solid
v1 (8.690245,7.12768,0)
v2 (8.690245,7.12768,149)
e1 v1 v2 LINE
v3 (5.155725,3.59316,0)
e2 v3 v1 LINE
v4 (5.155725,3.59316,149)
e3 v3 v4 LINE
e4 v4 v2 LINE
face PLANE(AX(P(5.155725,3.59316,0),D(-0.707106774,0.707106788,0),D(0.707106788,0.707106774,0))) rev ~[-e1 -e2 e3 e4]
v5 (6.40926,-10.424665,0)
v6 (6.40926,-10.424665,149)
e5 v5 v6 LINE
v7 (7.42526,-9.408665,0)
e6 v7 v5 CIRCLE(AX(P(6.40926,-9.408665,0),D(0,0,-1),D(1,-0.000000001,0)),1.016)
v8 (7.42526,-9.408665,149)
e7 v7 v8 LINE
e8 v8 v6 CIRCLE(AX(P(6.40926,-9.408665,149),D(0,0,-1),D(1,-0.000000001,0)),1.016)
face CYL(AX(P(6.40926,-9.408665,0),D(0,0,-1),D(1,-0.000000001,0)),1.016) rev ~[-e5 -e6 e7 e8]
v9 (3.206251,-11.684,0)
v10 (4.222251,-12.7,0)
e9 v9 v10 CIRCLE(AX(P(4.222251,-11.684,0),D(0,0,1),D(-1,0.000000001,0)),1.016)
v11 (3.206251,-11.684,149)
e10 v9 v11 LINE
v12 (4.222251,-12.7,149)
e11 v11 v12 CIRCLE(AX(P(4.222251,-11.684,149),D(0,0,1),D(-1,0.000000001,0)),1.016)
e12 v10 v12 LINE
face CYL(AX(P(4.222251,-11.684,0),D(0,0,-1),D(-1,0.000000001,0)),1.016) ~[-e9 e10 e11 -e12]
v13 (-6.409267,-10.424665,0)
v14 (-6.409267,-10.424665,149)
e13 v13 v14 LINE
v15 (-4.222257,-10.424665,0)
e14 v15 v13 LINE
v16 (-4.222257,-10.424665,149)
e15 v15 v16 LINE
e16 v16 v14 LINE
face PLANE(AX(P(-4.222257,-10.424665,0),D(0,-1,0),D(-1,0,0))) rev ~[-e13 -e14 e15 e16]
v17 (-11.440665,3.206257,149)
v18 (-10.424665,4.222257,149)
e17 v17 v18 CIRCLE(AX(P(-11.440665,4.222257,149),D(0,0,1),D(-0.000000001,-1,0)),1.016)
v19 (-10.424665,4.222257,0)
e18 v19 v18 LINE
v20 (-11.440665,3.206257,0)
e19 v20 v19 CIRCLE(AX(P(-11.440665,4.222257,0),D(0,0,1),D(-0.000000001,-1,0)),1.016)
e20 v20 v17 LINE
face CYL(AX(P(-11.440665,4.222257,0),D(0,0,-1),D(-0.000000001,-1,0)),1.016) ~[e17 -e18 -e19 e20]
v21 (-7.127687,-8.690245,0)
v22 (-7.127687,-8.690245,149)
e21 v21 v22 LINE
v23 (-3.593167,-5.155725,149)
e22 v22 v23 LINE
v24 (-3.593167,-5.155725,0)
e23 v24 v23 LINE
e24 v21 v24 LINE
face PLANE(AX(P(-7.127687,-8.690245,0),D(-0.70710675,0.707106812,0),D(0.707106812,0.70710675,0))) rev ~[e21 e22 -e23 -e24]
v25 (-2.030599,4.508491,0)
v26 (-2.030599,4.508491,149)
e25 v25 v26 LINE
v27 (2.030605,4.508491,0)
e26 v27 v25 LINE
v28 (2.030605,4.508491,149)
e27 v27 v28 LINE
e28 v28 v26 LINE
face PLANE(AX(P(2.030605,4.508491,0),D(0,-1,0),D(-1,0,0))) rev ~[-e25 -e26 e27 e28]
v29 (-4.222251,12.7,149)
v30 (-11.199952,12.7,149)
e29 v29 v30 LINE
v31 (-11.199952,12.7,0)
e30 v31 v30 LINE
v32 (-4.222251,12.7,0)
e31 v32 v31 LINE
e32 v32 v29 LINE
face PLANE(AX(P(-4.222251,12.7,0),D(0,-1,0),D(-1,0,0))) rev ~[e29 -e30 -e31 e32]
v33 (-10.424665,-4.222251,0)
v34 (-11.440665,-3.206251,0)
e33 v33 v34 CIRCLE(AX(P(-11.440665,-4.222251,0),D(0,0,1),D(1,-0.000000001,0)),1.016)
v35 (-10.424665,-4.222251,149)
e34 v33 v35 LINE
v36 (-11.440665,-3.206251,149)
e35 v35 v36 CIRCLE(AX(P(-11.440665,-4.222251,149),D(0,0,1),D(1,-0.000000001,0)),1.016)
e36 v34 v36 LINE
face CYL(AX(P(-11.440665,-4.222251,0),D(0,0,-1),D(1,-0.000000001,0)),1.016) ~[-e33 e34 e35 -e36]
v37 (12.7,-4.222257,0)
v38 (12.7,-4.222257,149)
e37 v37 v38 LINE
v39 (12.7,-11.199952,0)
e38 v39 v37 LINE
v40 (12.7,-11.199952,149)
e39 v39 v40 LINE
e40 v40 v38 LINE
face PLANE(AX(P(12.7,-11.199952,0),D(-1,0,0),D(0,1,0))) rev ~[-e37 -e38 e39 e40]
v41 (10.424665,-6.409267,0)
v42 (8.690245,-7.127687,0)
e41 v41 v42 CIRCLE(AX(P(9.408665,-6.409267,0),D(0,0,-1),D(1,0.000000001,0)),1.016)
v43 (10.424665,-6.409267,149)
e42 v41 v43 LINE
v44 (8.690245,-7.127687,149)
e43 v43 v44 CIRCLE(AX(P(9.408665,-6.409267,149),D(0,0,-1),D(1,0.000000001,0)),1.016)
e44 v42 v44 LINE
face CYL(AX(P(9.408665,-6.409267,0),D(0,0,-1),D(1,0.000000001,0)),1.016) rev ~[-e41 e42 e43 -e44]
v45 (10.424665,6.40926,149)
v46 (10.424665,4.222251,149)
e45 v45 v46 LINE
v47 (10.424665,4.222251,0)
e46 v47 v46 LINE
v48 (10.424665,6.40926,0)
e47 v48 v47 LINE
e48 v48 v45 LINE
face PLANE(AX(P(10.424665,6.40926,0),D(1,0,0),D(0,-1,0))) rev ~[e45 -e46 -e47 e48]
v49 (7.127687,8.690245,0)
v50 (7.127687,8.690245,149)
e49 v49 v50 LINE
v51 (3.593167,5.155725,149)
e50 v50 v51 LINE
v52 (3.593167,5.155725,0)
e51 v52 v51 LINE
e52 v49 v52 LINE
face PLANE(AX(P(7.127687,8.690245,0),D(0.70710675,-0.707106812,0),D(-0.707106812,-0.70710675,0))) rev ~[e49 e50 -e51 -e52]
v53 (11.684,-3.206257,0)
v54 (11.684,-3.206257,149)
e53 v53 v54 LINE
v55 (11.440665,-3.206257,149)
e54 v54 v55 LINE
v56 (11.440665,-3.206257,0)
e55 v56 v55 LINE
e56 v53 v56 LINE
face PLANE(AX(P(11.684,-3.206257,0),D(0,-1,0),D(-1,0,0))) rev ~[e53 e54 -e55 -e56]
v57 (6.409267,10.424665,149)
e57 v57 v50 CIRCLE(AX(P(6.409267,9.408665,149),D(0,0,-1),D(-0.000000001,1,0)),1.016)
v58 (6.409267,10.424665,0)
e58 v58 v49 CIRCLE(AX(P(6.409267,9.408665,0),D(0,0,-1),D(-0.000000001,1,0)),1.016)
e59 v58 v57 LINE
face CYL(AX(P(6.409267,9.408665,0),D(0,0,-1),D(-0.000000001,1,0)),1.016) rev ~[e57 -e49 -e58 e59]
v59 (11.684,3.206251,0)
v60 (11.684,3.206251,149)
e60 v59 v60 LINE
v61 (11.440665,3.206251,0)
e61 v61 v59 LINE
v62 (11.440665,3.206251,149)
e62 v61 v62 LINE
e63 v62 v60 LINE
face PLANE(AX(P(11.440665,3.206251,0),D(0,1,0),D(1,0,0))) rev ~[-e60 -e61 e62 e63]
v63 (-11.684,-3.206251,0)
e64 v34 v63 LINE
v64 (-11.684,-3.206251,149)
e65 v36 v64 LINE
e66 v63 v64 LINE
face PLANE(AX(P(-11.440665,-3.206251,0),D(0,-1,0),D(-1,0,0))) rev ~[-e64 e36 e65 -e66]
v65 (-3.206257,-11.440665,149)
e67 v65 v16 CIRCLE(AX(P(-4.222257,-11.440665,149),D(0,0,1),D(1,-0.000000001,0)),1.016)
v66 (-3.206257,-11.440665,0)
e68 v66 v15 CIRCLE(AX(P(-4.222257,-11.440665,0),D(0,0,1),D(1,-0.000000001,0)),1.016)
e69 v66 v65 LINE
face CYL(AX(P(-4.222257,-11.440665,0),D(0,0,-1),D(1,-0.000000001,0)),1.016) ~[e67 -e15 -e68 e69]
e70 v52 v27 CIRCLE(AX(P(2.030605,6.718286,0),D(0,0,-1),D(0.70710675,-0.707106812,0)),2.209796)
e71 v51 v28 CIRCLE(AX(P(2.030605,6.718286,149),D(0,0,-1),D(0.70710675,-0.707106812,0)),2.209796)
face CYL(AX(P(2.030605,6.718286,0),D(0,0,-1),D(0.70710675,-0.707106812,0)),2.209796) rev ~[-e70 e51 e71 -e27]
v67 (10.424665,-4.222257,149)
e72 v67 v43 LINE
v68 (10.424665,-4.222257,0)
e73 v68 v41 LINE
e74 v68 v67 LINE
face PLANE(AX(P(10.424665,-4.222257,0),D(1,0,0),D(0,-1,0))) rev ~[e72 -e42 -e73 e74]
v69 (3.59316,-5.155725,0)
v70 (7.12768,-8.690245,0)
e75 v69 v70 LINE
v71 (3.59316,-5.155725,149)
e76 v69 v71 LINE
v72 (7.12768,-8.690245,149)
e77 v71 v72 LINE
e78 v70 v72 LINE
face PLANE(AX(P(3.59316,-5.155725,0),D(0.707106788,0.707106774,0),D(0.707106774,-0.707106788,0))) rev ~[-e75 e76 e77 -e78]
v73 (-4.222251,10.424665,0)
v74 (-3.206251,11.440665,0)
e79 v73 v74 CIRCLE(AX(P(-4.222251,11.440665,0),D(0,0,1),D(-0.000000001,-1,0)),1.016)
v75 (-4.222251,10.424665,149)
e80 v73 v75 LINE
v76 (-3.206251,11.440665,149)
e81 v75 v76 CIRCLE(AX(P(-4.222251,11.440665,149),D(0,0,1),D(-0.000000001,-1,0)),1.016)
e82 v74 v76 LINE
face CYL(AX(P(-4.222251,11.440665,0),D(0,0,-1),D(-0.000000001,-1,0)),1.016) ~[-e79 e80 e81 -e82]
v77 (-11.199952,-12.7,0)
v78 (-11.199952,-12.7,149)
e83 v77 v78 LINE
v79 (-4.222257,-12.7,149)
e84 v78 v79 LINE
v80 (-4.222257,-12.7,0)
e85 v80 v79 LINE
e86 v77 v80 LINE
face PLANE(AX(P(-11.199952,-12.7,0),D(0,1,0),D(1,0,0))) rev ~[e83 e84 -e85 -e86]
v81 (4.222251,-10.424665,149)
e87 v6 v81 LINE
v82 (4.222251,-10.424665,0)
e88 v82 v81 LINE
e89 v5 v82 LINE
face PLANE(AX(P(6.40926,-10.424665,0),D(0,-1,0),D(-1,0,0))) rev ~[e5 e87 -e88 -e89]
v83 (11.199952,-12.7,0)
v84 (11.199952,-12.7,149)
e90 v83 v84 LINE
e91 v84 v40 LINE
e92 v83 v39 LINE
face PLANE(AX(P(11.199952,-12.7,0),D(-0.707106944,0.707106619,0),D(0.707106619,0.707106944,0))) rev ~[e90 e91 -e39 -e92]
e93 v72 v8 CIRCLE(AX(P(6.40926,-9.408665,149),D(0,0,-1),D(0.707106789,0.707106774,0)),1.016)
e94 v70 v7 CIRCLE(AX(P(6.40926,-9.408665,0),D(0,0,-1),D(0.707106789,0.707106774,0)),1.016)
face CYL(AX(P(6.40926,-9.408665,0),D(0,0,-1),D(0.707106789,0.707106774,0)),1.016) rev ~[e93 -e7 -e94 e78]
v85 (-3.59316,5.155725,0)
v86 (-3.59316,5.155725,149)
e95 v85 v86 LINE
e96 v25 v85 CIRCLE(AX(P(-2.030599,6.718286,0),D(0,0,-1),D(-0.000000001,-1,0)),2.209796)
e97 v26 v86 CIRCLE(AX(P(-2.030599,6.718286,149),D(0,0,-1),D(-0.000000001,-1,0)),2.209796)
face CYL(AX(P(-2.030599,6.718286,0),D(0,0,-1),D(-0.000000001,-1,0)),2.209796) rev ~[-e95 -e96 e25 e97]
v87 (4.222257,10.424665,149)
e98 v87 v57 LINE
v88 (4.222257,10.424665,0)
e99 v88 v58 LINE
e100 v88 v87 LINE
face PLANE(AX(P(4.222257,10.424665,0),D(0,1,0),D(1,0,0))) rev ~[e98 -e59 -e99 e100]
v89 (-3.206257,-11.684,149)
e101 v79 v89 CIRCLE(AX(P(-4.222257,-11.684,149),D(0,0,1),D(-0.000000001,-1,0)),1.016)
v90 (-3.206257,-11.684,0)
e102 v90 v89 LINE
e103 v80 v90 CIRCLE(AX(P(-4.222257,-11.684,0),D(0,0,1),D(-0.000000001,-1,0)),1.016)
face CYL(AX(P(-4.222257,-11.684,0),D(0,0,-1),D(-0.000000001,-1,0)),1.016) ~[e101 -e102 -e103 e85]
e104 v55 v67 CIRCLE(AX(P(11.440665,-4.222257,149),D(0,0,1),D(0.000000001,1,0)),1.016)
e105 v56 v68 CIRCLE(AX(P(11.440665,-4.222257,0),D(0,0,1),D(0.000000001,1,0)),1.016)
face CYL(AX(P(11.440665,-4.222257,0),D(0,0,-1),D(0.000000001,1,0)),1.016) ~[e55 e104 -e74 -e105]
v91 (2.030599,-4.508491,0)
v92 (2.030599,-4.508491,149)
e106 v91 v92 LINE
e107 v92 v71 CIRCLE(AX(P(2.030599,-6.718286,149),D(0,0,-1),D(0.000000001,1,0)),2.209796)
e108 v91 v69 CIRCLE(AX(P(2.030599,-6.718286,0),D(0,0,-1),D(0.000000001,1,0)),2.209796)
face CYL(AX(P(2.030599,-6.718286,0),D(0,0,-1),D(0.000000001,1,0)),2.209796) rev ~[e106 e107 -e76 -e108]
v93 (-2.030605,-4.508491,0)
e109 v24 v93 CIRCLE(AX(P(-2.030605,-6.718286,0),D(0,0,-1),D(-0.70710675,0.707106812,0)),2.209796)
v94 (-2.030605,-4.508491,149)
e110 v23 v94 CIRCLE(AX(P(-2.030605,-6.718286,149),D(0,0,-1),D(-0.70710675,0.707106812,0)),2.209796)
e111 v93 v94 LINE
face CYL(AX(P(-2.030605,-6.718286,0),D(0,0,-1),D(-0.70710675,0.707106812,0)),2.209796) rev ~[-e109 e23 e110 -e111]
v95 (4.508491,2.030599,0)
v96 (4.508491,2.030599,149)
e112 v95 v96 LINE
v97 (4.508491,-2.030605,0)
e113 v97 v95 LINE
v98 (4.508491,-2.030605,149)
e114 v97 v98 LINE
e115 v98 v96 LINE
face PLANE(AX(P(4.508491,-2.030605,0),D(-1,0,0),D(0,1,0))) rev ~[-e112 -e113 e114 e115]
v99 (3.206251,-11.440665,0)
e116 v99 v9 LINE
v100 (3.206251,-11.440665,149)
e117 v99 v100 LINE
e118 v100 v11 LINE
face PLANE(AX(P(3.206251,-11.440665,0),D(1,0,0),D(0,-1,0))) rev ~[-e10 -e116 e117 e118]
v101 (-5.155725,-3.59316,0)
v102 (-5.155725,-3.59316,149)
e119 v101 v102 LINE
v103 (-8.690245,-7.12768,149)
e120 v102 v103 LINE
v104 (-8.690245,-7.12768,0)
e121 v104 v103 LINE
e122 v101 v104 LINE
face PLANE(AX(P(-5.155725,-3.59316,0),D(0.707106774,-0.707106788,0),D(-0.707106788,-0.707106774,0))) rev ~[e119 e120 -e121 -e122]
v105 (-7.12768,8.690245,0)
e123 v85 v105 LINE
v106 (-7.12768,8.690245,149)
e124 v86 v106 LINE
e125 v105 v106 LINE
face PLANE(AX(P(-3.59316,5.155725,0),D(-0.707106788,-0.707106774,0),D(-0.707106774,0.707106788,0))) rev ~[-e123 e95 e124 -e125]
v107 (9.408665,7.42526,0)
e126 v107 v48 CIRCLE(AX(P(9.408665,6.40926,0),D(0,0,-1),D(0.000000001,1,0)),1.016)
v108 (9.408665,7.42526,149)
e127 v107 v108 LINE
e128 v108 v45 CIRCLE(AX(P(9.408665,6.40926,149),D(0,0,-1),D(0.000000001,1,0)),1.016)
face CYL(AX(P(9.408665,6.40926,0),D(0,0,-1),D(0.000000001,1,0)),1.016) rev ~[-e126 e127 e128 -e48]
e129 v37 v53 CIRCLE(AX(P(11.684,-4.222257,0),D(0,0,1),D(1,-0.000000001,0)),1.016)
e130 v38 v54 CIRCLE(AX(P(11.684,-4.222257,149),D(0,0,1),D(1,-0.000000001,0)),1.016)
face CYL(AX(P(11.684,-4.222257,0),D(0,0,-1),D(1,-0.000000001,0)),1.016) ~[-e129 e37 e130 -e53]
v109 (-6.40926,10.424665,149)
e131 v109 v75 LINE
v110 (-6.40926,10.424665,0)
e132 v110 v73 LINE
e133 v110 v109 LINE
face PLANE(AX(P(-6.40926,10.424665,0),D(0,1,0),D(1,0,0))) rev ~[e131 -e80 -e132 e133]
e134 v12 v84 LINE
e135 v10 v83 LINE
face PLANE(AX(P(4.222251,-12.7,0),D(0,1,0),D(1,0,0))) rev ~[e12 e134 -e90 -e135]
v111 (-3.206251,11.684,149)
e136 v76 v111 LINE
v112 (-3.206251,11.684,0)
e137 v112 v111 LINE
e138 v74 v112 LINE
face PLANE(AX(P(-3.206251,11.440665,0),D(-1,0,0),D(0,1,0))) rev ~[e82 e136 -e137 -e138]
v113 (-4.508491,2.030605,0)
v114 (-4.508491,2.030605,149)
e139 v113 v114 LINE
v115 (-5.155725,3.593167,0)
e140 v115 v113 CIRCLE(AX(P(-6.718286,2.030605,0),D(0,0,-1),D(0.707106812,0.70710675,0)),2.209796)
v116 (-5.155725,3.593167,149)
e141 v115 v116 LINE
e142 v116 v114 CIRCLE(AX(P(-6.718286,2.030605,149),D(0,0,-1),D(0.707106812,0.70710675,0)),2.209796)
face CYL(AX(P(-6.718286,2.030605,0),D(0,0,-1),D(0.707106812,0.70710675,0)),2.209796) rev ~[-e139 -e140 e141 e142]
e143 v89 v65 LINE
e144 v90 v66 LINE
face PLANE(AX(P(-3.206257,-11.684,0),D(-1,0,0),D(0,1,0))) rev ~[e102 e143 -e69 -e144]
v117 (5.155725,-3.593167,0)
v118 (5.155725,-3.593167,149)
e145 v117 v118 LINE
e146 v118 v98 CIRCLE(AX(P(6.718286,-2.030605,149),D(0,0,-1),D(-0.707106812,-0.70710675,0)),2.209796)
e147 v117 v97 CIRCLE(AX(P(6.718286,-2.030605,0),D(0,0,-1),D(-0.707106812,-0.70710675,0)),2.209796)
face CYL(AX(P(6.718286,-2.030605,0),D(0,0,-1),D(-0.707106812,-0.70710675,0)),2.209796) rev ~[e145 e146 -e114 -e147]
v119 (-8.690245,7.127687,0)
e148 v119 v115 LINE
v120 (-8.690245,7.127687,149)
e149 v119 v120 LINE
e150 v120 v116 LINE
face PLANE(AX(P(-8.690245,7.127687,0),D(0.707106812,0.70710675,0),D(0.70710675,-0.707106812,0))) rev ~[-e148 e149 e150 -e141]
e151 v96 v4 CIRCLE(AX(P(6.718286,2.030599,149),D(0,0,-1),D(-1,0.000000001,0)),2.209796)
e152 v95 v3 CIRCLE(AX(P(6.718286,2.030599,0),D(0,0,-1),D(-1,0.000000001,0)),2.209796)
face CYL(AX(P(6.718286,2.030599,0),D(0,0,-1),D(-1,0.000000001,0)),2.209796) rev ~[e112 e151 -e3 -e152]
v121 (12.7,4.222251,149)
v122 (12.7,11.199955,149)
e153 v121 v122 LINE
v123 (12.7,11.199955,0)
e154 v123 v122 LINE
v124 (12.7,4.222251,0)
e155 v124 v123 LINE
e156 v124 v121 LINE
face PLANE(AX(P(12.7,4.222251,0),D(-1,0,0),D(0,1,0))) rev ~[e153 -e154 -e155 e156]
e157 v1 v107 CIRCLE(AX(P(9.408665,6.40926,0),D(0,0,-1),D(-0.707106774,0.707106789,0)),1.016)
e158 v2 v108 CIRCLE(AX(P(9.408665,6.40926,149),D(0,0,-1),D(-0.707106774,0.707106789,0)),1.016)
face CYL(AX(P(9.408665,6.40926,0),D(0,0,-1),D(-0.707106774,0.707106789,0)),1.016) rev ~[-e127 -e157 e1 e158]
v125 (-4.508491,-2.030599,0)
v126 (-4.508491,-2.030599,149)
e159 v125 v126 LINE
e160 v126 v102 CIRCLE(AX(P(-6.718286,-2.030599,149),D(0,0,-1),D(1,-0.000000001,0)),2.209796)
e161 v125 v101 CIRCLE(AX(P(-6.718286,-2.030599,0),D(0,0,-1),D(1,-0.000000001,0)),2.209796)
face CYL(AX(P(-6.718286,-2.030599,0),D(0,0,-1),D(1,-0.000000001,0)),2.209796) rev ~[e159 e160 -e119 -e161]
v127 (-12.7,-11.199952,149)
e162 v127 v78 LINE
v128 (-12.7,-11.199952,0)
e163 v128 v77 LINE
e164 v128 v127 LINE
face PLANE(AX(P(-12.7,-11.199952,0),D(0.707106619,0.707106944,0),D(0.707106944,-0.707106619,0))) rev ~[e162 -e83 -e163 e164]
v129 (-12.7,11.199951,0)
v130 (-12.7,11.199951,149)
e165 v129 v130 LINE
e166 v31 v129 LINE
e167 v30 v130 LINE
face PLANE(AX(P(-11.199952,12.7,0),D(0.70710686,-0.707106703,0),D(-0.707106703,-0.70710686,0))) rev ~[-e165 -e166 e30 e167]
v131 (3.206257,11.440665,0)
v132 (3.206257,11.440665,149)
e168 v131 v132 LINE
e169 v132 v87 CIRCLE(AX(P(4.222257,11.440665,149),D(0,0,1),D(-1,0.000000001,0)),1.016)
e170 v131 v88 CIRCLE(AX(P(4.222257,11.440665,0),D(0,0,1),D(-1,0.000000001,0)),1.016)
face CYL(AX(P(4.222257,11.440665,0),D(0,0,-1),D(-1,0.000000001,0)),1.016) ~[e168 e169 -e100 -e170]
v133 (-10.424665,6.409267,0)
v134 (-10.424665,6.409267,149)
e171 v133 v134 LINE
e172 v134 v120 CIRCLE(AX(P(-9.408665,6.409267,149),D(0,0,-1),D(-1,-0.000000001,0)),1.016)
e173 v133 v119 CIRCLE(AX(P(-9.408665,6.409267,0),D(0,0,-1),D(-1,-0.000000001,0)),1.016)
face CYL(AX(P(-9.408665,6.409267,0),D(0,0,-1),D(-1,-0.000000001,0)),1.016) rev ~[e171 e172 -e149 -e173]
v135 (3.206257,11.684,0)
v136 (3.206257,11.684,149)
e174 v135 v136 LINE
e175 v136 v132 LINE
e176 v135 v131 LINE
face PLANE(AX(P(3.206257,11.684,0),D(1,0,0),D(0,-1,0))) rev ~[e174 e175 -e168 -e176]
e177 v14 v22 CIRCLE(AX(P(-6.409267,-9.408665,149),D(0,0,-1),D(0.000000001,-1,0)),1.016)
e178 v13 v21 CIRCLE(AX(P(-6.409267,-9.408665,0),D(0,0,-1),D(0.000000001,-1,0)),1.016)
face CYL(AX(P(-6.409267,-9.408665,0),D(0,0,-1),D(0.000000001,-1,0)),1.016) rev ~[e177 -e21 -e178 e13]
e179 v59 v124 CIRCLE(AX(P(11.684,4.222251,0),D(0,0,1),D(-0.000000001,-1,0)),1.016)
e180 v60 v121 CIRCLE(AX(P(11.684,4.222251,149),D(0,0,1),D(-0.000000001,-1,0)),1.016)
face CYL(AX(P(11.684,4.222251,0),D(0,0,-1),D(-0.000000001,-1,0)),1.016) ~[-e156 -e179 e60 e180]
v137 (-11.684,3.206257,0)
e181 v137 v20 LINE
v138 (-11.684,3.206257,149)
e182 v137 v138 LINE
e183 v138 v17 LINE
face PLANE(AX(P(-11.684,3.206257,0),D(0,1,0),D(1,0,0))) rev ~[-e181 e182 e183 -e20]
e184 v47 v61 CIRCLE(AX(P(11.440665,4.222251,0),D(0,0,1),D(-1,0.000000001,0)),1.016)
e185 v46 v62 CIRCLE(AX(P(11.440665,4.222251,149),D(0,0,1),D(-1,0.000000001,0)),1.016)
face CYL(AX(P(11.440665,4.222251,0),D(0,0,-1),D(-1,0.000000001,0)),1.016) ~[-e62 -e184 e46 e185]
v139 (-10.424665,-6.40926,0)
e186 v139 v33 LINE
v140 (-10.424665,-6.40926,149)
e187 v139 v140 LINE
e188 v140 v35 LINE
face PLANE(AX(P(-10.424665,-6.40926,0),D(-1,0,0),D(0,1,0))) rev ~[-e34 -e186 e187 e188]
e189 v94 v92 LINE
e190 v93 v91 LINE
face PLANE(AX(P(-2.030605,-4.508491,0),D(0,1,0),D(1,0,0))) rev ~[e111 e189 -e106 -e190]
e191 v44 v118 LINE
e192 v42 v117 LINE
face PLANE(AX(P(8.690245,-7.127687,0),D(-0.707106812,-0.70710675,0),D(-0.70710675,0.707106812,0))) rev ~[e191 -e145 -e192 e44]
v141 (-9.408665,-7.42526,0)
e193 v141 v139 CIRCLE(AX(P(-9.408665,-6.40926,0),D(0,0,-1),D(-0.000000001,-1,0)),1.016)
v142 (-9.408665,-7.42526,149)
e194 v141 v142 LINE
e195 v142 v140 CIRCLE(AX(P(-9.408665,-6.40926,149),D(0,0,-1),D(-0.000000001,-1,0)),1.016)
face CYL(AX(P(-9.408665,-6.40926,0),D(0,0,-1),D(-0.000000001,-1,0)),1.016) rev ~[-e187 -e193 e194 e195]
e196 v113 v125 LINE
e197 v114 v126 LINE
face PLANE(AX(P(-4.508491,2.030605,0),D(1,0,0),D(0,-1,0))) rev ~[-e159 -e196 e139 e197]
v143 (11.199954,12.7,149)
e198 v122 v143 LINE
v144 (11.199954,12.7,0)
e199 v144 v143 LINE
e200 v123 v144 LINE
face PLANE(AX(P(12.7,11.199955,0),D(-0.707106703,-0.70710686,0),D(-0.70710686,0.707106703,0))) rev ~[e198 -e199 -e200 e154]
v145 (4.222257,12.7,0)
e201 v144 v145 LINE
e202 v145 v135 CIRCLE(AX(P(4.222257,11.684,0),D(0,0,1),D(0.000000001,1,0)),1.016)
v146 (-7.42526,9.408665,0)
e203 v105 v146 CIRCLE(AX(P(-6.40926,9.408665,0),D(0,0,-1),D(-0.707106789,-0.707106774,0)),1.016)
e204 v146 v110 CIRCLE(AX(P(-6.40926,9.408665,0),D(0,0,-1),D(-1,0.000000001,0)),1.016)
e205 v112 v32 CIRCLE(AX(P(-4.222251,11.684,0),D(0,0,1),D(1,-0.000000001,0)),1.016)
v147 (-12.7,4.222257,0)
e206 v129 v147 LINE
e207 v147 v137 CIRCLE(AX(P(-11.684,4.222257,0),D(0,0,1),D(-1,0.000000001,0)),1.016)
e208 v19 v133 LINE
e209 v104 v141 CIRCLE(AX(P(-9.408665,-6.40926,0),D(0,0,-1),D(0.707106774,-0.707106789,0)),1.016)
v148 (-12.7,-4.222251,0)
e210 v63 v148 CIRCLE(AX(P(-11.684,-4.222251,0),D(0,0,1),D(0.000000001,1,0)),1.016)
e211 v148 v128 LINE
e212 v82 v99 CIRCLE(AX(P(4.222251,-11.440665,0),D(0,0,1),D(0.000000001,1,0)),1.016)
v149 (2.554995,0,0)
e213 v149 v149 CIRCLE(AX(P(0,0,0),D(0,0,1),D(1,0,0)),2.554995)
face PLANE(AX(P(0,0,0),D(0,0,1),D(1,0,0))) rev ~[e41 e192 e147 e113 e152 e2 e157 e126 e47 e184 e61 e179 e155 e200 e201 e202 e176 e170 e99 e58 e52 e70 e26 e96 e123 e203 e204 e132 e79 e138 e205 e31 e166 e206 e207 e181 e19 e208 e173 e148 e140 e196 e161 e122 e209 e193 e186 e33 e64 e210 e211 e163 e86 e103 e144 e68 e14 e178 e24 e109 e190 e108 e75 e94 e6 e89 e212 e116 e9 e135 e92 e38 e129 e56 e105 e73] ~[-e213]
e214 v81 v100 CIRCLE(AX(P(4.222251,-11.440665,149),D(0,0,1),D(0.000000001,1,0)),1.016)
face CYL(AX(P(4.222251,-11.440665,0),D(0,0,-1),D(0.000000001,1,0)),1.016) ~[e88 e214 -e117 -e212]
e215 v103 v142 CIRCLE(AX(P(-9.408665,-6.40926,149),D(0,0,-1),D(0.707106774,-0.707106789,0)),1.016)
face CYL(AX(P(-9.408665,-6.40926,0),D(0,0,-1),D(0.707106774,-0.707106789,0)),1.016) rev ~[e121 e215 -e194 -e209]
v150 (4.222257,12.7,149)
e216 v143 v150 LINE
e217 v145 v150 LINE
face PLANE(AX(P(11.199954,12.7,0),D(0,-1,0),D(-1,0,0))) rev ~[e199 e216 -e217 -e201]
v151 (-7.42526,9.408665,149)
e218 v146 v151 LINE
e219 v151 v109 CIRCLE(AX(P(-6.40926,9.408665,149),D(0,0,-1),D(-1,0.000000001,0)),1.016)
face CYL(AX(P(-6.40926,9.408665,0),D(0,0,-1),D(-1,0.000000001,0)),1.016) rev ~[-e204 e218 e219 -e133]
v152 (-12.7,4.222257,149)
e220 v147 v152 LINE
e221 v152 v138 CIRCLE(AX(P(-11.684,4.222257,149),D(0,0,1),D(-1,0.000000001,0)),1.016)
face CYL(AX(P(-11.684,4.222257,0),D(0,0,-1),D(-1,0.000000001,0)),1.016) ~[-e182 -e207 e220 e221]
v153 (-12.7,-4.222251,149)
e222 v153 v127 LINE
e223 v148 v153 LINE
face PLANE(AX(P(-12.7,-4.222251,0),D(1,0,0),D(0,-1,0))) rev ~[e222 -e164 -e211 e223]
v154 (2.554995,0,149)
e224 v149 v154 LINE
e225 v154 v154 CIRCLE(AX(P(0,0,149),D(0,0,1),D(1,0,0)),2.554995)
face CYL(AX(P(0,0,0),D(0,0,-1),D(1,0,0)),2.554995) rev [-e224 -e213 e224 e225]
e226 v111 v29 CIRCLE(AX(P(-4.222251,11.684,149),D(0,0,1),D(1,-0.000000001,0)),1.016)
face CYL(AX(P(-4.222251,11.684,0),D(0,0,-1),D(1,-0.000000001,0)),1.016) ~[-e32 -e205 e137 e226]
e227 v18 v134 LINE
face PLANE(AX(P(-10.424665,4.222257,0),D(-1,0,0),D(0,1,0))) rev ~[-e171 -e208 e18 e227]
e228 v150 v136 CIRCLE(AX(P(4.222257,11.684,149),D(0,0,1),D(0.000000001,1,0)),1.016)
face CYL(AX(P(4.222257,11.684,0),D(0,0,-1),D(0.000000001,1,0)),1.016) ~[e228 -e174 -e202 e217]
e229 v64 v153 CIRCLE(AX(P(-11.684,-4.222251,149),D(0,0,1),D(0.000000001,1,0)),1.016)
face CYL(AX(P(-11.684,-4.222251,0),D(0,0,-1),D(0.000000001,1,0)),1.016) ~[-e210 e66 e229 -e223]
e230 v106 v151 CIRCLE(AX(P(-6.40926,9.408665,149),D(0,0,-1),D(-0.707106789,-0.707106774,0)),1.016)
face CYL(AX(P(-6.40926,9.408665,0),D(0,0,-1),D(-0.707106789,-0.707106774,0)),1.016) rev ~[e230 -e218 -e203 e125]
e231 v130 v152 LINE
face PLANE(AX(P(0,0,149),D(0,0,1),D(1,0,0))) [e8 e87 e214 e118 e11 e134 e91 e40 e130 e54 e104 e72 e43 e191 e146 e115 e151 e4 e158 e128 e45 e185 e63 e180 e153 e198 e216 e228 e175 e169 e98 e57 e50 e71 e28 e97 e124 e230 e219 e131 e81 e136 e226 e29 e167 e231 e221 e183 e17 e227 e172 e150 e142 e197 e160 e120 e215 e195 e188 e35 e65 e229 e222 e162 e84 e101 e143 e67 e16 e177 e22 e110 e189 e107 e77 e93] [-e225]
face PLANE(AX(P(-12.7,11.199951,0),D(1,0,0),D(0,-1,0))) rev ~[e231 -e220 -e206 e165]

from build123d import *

# Parameters (mm, degrees)
BOSS_EXTRUDE1_DEPTH = 149


with BuildPart() as part:
    # Sketch1 → Boss-Extrude1 (new body)
    with BuildSketch(Plane.XY):
        with BuildLine():
            Line((-11.199951579, -12.7), (-4.222256762, -12.7))
            ThreePointArc((-4.222256762, -12.7), (-3.503836272, -12.40242049), (-3.206256762, -11.684))
            Line((-3.206256762, -11.684), (-3.206256762, -11.440665395))
            ThreePointArc((-3.206256762, -11.440665395), (-3.503836272, -10.722244905), (-4.222256762, -10.424665395))
            Line((-4.222256762, -10.424665395), (-6.40926672, -10.424665395))
            ThreePointArc((-6.40926672, -10.424665395), (-7.347928334, -9.797471742), (-7.127687178, -8.690244874))
            Line((-7.127687178, -8.690244874), (-3.593166694, -5.155724698))
            ThreePointArc((-3.593166694, -5.155724698), (-2.876257435, -4.67670128), (-2.030605322, -4.508490626))
            Line((-2.030605322, -4.508490626), (2.030598864, -4.508490626))
            ThreePointArc((2.030598864, -4.508490626), (2.876251031, -4.676701303), (3.593160319, -5.155724782))
            Line((3.593160319, -5.155724782), (7.127680379, -8.690244912))
            ThreePointArc((7.127680379, -8.690244912), (7.347921489, -9.019859032), (7.425259882, -9.408665395))
            ThreePointArc((7.425259882, -9.408665395), (7.127680372, -10.127085884), (6.409259882, -10.424665395))
            Line((6.409259882, -10.424665395), (4.22225065, -10.424665395))
            ThreePointArc((4.22225065, -10.424665395), (3.50383016, -10.722244905), (3.20625065, -11.440665395))
            Line((3.20625065, -11.440665395), (3.20625065, -11.684))
            ThreePointArc((3.20625065, -11.684), (3.50383016, -12.40242049), (4.22225065, -12.7))
            Line((4.22225065, -12.7), (11.199952422, -12.7))
            Line((11.199952422, -12.7), (12.7, -11.199951732))
            Line((12.7, -11.199951732), (12.7, -4.222256762))
            ThreePointArc((12.7, -4.222256762), (12.40242049, -3.503836272), (11.684, -3.206256762))
            Line((11.684, -3.206256762), (11.440665395, -3.206256762))
            ThreePointArc((11.440665395, -3.206256762), (10.722244905, -3.503836272), (10.424665395, -4.222256762))
            Line((10.424665395, -4.222256762), (10.424665395, -6.40926672))
            ThreePointArc((10.424665395, -6.40926672), (9.797471742, -7.347928334), (8.690244874, -7.127687178))
            Line((8.690244874, -7.127687178), (5.155724698, -3.593166694))
            ThreePointArc((5.155724698, -3.593166694), (4.67670128, -2.876257435), (4.508490626, -2.030605322))
            Line((4.508490626, -2.030605322), (4.508490626, 2.030598864))
            ThreePointArc((4.508490626, 2.030598864), (4.676701303, 2.876251031), (5.155724782, 3.593160319))
            Line((5.155724782, 3.593160319), (8.690244912, 7.127680379))
            ThreePointArc((8.690244912, 7.127680379), (9.019859032, 7.347921489), (9.408665395, 7.425259882))
            ThreePointArc((9.408665395, 7.425259882), (10.127085884, 7.127680372), (10.424665395, 6.409259882))
            Line((10.424665395, 6.409259882), (10.424665395, 4.22225065))
            ThreePointArc((10.424665395, 4.22225065), (10.722244905, 3.50383016), (11.440665395, 3.20625065))
            Line((11.440665395, 3.20625065), (11.684, 3.20625065))
            ThreePointArc((11.684, 3.20625065), (12.40242049, 3.50383016), (12.7, 4.22225065))
            Line((12.7, 4.22225065), (12.7, 11.199954756))
            Line((12.7, 11.199954756), (11.199954423, 12.7))
            Line((11.199954423, 12.7), (4.222256762, 12.7))
            ThreePointArc((4.222256762, 12.7), (3.503836272, 12.40242049), (3.206256762, 11.684))
            Line((3.206256762, 11.684), (3.206256762, 11.440665395))
            ThreePointArc((3.206256762, 11.440665395), (3.503836272, 10.722244905), (4.222256762, 10.424665395))
            Line((4.222256762, 10.424665395), (6.40926672, 10.424665395))
            ThreePointArc((6.40926672, 10.424665395), (7.347928334, 9.797471742), (7.127687178, 8.690244874))
            Line((7.127687178, 8.690244874), (3.593166694, 5.155724698))
            ThreePointArc((3.593166694, 5.155724698), (2.876257435, 4.67670128), (2.030605322, 4.508490626))
            Line((2.030605322, 4.508490626), (-2.030598864, 4.508490626))
            ThreePointArc((-2.030598864, 4.508490626), (-2.876251031, 4.676701303), (-3.593160319, 5.155724782))
            Line((-3.593160319, 5.155724782), (-7.127680379, 8.690244912))
            ThreePointArc((-7.127680379, 8.690244912), (-7.347921489, 9.019859032), (-7.425259882, 9.408665395))
            ThreePointArc((-7.425259882, 9.408665395), (-7.127680372, 10.127085884), (-6.409259882, 10.424665395))
            Line((-6.409259882, 10.424665395), (-4.22225065, 10.424665395))
            ThreePointArc((-4.22225065, 10.424665395), (-3.50383016, 10.722244905), (-3.20625065, 11.440665395))
            Line((-3.20625065, 11.440665395), (-3.20625065, 11.684))
            ThreePointArc((-3.20625065, 11.684), (-3.50383016, 12.40242049), (-4.22225065, 12.7))
            Line((-4.22225065, 12.7), (-11.199951733, 12.7))
            Line((-11.199951733, 12.7), (-12.7, 11.1999514))
            Line((-12.7, 11.1999514), (-12.7, 4.222256762))
            ThreePointArc((-12.7, 4.222256762), (-12.40242049, 3.503836272), (-11.684, 3.206256762))
            Line((-11.684, 3.206256762), (-11.440665395, 3.206256762))
            ThreePointArc((-11.440665395, 3.206256762), (-10.722244905, 3.503836272), (-10.424665395, 4.222256762))
            Line((-10.424665395, 4.222256762), (-10.424665395, 6.40926672))
            ThreePointArc((-10.424665395, 6.40926672), (-9.797471742, 7.347928334), (-8.690244874, 7.127687178))
            Line((-8.690244874, 7.127687178), (-5.155724698, 3.593166694))
            ThreePointArc((-5.155724698, 3.593166694), (-4.67670128, 2.876257435), (-4.508490626, 2.030605322))
            Line((-4.508490626, 2.030605322), (-4.508490626, -2.030598864))
            ThreePointArc((-4.508490626, -2.030598864), (-4.676701303, -2.876251031), (-5.155724782, -3.593160319))
            Line((-5.155724782, -3.593160319), (-8.690244912, -7.127680379))
            ThreePointArc((-8.690244912, -7.127680379), (-9.019859032, -7.347921489), (-9.408665395, -7.425259882))
            ThreePointArc((-9.408665395, -7.425259882), (-10.127085884, -7.127680372), (-10.424665395, -6.409259882))
            Line((-10.424665395, -6.409259882), (-10.424665395, -4.22225065))
            ThreePointArc((-10.424665395, -4.22225065), (-10.722244905, -3.50383016), (-11.440665395, -3.20625065))
            Line((-11.440665395, -3.20625065), (-11.684, -3.20625065))
            ThreePointArc((-11.684, -3.20625065), (-12.40242049, -3.50383016), (-12.7, -4.22225065))
            Line((-12.7, -4.22225065), (-12.7, -11.199952268))
            Line((-12.7, -11.199952268), (-11.199951579, -12.7))
        make_face()
        with BuildLine():
            ThreePointArc((-2.55499489, 0), (0, -2.55499489), (2.55499489, 0))
            ThreePointArc((2.55499489, 0), (0, 2.55499489), (-2.55499489, 0))
        make_face(mode=Mode.SUBTRACT)
    extrude(amount=BOSS_EXTRUDE1_DEPTH)


solid = part.part
